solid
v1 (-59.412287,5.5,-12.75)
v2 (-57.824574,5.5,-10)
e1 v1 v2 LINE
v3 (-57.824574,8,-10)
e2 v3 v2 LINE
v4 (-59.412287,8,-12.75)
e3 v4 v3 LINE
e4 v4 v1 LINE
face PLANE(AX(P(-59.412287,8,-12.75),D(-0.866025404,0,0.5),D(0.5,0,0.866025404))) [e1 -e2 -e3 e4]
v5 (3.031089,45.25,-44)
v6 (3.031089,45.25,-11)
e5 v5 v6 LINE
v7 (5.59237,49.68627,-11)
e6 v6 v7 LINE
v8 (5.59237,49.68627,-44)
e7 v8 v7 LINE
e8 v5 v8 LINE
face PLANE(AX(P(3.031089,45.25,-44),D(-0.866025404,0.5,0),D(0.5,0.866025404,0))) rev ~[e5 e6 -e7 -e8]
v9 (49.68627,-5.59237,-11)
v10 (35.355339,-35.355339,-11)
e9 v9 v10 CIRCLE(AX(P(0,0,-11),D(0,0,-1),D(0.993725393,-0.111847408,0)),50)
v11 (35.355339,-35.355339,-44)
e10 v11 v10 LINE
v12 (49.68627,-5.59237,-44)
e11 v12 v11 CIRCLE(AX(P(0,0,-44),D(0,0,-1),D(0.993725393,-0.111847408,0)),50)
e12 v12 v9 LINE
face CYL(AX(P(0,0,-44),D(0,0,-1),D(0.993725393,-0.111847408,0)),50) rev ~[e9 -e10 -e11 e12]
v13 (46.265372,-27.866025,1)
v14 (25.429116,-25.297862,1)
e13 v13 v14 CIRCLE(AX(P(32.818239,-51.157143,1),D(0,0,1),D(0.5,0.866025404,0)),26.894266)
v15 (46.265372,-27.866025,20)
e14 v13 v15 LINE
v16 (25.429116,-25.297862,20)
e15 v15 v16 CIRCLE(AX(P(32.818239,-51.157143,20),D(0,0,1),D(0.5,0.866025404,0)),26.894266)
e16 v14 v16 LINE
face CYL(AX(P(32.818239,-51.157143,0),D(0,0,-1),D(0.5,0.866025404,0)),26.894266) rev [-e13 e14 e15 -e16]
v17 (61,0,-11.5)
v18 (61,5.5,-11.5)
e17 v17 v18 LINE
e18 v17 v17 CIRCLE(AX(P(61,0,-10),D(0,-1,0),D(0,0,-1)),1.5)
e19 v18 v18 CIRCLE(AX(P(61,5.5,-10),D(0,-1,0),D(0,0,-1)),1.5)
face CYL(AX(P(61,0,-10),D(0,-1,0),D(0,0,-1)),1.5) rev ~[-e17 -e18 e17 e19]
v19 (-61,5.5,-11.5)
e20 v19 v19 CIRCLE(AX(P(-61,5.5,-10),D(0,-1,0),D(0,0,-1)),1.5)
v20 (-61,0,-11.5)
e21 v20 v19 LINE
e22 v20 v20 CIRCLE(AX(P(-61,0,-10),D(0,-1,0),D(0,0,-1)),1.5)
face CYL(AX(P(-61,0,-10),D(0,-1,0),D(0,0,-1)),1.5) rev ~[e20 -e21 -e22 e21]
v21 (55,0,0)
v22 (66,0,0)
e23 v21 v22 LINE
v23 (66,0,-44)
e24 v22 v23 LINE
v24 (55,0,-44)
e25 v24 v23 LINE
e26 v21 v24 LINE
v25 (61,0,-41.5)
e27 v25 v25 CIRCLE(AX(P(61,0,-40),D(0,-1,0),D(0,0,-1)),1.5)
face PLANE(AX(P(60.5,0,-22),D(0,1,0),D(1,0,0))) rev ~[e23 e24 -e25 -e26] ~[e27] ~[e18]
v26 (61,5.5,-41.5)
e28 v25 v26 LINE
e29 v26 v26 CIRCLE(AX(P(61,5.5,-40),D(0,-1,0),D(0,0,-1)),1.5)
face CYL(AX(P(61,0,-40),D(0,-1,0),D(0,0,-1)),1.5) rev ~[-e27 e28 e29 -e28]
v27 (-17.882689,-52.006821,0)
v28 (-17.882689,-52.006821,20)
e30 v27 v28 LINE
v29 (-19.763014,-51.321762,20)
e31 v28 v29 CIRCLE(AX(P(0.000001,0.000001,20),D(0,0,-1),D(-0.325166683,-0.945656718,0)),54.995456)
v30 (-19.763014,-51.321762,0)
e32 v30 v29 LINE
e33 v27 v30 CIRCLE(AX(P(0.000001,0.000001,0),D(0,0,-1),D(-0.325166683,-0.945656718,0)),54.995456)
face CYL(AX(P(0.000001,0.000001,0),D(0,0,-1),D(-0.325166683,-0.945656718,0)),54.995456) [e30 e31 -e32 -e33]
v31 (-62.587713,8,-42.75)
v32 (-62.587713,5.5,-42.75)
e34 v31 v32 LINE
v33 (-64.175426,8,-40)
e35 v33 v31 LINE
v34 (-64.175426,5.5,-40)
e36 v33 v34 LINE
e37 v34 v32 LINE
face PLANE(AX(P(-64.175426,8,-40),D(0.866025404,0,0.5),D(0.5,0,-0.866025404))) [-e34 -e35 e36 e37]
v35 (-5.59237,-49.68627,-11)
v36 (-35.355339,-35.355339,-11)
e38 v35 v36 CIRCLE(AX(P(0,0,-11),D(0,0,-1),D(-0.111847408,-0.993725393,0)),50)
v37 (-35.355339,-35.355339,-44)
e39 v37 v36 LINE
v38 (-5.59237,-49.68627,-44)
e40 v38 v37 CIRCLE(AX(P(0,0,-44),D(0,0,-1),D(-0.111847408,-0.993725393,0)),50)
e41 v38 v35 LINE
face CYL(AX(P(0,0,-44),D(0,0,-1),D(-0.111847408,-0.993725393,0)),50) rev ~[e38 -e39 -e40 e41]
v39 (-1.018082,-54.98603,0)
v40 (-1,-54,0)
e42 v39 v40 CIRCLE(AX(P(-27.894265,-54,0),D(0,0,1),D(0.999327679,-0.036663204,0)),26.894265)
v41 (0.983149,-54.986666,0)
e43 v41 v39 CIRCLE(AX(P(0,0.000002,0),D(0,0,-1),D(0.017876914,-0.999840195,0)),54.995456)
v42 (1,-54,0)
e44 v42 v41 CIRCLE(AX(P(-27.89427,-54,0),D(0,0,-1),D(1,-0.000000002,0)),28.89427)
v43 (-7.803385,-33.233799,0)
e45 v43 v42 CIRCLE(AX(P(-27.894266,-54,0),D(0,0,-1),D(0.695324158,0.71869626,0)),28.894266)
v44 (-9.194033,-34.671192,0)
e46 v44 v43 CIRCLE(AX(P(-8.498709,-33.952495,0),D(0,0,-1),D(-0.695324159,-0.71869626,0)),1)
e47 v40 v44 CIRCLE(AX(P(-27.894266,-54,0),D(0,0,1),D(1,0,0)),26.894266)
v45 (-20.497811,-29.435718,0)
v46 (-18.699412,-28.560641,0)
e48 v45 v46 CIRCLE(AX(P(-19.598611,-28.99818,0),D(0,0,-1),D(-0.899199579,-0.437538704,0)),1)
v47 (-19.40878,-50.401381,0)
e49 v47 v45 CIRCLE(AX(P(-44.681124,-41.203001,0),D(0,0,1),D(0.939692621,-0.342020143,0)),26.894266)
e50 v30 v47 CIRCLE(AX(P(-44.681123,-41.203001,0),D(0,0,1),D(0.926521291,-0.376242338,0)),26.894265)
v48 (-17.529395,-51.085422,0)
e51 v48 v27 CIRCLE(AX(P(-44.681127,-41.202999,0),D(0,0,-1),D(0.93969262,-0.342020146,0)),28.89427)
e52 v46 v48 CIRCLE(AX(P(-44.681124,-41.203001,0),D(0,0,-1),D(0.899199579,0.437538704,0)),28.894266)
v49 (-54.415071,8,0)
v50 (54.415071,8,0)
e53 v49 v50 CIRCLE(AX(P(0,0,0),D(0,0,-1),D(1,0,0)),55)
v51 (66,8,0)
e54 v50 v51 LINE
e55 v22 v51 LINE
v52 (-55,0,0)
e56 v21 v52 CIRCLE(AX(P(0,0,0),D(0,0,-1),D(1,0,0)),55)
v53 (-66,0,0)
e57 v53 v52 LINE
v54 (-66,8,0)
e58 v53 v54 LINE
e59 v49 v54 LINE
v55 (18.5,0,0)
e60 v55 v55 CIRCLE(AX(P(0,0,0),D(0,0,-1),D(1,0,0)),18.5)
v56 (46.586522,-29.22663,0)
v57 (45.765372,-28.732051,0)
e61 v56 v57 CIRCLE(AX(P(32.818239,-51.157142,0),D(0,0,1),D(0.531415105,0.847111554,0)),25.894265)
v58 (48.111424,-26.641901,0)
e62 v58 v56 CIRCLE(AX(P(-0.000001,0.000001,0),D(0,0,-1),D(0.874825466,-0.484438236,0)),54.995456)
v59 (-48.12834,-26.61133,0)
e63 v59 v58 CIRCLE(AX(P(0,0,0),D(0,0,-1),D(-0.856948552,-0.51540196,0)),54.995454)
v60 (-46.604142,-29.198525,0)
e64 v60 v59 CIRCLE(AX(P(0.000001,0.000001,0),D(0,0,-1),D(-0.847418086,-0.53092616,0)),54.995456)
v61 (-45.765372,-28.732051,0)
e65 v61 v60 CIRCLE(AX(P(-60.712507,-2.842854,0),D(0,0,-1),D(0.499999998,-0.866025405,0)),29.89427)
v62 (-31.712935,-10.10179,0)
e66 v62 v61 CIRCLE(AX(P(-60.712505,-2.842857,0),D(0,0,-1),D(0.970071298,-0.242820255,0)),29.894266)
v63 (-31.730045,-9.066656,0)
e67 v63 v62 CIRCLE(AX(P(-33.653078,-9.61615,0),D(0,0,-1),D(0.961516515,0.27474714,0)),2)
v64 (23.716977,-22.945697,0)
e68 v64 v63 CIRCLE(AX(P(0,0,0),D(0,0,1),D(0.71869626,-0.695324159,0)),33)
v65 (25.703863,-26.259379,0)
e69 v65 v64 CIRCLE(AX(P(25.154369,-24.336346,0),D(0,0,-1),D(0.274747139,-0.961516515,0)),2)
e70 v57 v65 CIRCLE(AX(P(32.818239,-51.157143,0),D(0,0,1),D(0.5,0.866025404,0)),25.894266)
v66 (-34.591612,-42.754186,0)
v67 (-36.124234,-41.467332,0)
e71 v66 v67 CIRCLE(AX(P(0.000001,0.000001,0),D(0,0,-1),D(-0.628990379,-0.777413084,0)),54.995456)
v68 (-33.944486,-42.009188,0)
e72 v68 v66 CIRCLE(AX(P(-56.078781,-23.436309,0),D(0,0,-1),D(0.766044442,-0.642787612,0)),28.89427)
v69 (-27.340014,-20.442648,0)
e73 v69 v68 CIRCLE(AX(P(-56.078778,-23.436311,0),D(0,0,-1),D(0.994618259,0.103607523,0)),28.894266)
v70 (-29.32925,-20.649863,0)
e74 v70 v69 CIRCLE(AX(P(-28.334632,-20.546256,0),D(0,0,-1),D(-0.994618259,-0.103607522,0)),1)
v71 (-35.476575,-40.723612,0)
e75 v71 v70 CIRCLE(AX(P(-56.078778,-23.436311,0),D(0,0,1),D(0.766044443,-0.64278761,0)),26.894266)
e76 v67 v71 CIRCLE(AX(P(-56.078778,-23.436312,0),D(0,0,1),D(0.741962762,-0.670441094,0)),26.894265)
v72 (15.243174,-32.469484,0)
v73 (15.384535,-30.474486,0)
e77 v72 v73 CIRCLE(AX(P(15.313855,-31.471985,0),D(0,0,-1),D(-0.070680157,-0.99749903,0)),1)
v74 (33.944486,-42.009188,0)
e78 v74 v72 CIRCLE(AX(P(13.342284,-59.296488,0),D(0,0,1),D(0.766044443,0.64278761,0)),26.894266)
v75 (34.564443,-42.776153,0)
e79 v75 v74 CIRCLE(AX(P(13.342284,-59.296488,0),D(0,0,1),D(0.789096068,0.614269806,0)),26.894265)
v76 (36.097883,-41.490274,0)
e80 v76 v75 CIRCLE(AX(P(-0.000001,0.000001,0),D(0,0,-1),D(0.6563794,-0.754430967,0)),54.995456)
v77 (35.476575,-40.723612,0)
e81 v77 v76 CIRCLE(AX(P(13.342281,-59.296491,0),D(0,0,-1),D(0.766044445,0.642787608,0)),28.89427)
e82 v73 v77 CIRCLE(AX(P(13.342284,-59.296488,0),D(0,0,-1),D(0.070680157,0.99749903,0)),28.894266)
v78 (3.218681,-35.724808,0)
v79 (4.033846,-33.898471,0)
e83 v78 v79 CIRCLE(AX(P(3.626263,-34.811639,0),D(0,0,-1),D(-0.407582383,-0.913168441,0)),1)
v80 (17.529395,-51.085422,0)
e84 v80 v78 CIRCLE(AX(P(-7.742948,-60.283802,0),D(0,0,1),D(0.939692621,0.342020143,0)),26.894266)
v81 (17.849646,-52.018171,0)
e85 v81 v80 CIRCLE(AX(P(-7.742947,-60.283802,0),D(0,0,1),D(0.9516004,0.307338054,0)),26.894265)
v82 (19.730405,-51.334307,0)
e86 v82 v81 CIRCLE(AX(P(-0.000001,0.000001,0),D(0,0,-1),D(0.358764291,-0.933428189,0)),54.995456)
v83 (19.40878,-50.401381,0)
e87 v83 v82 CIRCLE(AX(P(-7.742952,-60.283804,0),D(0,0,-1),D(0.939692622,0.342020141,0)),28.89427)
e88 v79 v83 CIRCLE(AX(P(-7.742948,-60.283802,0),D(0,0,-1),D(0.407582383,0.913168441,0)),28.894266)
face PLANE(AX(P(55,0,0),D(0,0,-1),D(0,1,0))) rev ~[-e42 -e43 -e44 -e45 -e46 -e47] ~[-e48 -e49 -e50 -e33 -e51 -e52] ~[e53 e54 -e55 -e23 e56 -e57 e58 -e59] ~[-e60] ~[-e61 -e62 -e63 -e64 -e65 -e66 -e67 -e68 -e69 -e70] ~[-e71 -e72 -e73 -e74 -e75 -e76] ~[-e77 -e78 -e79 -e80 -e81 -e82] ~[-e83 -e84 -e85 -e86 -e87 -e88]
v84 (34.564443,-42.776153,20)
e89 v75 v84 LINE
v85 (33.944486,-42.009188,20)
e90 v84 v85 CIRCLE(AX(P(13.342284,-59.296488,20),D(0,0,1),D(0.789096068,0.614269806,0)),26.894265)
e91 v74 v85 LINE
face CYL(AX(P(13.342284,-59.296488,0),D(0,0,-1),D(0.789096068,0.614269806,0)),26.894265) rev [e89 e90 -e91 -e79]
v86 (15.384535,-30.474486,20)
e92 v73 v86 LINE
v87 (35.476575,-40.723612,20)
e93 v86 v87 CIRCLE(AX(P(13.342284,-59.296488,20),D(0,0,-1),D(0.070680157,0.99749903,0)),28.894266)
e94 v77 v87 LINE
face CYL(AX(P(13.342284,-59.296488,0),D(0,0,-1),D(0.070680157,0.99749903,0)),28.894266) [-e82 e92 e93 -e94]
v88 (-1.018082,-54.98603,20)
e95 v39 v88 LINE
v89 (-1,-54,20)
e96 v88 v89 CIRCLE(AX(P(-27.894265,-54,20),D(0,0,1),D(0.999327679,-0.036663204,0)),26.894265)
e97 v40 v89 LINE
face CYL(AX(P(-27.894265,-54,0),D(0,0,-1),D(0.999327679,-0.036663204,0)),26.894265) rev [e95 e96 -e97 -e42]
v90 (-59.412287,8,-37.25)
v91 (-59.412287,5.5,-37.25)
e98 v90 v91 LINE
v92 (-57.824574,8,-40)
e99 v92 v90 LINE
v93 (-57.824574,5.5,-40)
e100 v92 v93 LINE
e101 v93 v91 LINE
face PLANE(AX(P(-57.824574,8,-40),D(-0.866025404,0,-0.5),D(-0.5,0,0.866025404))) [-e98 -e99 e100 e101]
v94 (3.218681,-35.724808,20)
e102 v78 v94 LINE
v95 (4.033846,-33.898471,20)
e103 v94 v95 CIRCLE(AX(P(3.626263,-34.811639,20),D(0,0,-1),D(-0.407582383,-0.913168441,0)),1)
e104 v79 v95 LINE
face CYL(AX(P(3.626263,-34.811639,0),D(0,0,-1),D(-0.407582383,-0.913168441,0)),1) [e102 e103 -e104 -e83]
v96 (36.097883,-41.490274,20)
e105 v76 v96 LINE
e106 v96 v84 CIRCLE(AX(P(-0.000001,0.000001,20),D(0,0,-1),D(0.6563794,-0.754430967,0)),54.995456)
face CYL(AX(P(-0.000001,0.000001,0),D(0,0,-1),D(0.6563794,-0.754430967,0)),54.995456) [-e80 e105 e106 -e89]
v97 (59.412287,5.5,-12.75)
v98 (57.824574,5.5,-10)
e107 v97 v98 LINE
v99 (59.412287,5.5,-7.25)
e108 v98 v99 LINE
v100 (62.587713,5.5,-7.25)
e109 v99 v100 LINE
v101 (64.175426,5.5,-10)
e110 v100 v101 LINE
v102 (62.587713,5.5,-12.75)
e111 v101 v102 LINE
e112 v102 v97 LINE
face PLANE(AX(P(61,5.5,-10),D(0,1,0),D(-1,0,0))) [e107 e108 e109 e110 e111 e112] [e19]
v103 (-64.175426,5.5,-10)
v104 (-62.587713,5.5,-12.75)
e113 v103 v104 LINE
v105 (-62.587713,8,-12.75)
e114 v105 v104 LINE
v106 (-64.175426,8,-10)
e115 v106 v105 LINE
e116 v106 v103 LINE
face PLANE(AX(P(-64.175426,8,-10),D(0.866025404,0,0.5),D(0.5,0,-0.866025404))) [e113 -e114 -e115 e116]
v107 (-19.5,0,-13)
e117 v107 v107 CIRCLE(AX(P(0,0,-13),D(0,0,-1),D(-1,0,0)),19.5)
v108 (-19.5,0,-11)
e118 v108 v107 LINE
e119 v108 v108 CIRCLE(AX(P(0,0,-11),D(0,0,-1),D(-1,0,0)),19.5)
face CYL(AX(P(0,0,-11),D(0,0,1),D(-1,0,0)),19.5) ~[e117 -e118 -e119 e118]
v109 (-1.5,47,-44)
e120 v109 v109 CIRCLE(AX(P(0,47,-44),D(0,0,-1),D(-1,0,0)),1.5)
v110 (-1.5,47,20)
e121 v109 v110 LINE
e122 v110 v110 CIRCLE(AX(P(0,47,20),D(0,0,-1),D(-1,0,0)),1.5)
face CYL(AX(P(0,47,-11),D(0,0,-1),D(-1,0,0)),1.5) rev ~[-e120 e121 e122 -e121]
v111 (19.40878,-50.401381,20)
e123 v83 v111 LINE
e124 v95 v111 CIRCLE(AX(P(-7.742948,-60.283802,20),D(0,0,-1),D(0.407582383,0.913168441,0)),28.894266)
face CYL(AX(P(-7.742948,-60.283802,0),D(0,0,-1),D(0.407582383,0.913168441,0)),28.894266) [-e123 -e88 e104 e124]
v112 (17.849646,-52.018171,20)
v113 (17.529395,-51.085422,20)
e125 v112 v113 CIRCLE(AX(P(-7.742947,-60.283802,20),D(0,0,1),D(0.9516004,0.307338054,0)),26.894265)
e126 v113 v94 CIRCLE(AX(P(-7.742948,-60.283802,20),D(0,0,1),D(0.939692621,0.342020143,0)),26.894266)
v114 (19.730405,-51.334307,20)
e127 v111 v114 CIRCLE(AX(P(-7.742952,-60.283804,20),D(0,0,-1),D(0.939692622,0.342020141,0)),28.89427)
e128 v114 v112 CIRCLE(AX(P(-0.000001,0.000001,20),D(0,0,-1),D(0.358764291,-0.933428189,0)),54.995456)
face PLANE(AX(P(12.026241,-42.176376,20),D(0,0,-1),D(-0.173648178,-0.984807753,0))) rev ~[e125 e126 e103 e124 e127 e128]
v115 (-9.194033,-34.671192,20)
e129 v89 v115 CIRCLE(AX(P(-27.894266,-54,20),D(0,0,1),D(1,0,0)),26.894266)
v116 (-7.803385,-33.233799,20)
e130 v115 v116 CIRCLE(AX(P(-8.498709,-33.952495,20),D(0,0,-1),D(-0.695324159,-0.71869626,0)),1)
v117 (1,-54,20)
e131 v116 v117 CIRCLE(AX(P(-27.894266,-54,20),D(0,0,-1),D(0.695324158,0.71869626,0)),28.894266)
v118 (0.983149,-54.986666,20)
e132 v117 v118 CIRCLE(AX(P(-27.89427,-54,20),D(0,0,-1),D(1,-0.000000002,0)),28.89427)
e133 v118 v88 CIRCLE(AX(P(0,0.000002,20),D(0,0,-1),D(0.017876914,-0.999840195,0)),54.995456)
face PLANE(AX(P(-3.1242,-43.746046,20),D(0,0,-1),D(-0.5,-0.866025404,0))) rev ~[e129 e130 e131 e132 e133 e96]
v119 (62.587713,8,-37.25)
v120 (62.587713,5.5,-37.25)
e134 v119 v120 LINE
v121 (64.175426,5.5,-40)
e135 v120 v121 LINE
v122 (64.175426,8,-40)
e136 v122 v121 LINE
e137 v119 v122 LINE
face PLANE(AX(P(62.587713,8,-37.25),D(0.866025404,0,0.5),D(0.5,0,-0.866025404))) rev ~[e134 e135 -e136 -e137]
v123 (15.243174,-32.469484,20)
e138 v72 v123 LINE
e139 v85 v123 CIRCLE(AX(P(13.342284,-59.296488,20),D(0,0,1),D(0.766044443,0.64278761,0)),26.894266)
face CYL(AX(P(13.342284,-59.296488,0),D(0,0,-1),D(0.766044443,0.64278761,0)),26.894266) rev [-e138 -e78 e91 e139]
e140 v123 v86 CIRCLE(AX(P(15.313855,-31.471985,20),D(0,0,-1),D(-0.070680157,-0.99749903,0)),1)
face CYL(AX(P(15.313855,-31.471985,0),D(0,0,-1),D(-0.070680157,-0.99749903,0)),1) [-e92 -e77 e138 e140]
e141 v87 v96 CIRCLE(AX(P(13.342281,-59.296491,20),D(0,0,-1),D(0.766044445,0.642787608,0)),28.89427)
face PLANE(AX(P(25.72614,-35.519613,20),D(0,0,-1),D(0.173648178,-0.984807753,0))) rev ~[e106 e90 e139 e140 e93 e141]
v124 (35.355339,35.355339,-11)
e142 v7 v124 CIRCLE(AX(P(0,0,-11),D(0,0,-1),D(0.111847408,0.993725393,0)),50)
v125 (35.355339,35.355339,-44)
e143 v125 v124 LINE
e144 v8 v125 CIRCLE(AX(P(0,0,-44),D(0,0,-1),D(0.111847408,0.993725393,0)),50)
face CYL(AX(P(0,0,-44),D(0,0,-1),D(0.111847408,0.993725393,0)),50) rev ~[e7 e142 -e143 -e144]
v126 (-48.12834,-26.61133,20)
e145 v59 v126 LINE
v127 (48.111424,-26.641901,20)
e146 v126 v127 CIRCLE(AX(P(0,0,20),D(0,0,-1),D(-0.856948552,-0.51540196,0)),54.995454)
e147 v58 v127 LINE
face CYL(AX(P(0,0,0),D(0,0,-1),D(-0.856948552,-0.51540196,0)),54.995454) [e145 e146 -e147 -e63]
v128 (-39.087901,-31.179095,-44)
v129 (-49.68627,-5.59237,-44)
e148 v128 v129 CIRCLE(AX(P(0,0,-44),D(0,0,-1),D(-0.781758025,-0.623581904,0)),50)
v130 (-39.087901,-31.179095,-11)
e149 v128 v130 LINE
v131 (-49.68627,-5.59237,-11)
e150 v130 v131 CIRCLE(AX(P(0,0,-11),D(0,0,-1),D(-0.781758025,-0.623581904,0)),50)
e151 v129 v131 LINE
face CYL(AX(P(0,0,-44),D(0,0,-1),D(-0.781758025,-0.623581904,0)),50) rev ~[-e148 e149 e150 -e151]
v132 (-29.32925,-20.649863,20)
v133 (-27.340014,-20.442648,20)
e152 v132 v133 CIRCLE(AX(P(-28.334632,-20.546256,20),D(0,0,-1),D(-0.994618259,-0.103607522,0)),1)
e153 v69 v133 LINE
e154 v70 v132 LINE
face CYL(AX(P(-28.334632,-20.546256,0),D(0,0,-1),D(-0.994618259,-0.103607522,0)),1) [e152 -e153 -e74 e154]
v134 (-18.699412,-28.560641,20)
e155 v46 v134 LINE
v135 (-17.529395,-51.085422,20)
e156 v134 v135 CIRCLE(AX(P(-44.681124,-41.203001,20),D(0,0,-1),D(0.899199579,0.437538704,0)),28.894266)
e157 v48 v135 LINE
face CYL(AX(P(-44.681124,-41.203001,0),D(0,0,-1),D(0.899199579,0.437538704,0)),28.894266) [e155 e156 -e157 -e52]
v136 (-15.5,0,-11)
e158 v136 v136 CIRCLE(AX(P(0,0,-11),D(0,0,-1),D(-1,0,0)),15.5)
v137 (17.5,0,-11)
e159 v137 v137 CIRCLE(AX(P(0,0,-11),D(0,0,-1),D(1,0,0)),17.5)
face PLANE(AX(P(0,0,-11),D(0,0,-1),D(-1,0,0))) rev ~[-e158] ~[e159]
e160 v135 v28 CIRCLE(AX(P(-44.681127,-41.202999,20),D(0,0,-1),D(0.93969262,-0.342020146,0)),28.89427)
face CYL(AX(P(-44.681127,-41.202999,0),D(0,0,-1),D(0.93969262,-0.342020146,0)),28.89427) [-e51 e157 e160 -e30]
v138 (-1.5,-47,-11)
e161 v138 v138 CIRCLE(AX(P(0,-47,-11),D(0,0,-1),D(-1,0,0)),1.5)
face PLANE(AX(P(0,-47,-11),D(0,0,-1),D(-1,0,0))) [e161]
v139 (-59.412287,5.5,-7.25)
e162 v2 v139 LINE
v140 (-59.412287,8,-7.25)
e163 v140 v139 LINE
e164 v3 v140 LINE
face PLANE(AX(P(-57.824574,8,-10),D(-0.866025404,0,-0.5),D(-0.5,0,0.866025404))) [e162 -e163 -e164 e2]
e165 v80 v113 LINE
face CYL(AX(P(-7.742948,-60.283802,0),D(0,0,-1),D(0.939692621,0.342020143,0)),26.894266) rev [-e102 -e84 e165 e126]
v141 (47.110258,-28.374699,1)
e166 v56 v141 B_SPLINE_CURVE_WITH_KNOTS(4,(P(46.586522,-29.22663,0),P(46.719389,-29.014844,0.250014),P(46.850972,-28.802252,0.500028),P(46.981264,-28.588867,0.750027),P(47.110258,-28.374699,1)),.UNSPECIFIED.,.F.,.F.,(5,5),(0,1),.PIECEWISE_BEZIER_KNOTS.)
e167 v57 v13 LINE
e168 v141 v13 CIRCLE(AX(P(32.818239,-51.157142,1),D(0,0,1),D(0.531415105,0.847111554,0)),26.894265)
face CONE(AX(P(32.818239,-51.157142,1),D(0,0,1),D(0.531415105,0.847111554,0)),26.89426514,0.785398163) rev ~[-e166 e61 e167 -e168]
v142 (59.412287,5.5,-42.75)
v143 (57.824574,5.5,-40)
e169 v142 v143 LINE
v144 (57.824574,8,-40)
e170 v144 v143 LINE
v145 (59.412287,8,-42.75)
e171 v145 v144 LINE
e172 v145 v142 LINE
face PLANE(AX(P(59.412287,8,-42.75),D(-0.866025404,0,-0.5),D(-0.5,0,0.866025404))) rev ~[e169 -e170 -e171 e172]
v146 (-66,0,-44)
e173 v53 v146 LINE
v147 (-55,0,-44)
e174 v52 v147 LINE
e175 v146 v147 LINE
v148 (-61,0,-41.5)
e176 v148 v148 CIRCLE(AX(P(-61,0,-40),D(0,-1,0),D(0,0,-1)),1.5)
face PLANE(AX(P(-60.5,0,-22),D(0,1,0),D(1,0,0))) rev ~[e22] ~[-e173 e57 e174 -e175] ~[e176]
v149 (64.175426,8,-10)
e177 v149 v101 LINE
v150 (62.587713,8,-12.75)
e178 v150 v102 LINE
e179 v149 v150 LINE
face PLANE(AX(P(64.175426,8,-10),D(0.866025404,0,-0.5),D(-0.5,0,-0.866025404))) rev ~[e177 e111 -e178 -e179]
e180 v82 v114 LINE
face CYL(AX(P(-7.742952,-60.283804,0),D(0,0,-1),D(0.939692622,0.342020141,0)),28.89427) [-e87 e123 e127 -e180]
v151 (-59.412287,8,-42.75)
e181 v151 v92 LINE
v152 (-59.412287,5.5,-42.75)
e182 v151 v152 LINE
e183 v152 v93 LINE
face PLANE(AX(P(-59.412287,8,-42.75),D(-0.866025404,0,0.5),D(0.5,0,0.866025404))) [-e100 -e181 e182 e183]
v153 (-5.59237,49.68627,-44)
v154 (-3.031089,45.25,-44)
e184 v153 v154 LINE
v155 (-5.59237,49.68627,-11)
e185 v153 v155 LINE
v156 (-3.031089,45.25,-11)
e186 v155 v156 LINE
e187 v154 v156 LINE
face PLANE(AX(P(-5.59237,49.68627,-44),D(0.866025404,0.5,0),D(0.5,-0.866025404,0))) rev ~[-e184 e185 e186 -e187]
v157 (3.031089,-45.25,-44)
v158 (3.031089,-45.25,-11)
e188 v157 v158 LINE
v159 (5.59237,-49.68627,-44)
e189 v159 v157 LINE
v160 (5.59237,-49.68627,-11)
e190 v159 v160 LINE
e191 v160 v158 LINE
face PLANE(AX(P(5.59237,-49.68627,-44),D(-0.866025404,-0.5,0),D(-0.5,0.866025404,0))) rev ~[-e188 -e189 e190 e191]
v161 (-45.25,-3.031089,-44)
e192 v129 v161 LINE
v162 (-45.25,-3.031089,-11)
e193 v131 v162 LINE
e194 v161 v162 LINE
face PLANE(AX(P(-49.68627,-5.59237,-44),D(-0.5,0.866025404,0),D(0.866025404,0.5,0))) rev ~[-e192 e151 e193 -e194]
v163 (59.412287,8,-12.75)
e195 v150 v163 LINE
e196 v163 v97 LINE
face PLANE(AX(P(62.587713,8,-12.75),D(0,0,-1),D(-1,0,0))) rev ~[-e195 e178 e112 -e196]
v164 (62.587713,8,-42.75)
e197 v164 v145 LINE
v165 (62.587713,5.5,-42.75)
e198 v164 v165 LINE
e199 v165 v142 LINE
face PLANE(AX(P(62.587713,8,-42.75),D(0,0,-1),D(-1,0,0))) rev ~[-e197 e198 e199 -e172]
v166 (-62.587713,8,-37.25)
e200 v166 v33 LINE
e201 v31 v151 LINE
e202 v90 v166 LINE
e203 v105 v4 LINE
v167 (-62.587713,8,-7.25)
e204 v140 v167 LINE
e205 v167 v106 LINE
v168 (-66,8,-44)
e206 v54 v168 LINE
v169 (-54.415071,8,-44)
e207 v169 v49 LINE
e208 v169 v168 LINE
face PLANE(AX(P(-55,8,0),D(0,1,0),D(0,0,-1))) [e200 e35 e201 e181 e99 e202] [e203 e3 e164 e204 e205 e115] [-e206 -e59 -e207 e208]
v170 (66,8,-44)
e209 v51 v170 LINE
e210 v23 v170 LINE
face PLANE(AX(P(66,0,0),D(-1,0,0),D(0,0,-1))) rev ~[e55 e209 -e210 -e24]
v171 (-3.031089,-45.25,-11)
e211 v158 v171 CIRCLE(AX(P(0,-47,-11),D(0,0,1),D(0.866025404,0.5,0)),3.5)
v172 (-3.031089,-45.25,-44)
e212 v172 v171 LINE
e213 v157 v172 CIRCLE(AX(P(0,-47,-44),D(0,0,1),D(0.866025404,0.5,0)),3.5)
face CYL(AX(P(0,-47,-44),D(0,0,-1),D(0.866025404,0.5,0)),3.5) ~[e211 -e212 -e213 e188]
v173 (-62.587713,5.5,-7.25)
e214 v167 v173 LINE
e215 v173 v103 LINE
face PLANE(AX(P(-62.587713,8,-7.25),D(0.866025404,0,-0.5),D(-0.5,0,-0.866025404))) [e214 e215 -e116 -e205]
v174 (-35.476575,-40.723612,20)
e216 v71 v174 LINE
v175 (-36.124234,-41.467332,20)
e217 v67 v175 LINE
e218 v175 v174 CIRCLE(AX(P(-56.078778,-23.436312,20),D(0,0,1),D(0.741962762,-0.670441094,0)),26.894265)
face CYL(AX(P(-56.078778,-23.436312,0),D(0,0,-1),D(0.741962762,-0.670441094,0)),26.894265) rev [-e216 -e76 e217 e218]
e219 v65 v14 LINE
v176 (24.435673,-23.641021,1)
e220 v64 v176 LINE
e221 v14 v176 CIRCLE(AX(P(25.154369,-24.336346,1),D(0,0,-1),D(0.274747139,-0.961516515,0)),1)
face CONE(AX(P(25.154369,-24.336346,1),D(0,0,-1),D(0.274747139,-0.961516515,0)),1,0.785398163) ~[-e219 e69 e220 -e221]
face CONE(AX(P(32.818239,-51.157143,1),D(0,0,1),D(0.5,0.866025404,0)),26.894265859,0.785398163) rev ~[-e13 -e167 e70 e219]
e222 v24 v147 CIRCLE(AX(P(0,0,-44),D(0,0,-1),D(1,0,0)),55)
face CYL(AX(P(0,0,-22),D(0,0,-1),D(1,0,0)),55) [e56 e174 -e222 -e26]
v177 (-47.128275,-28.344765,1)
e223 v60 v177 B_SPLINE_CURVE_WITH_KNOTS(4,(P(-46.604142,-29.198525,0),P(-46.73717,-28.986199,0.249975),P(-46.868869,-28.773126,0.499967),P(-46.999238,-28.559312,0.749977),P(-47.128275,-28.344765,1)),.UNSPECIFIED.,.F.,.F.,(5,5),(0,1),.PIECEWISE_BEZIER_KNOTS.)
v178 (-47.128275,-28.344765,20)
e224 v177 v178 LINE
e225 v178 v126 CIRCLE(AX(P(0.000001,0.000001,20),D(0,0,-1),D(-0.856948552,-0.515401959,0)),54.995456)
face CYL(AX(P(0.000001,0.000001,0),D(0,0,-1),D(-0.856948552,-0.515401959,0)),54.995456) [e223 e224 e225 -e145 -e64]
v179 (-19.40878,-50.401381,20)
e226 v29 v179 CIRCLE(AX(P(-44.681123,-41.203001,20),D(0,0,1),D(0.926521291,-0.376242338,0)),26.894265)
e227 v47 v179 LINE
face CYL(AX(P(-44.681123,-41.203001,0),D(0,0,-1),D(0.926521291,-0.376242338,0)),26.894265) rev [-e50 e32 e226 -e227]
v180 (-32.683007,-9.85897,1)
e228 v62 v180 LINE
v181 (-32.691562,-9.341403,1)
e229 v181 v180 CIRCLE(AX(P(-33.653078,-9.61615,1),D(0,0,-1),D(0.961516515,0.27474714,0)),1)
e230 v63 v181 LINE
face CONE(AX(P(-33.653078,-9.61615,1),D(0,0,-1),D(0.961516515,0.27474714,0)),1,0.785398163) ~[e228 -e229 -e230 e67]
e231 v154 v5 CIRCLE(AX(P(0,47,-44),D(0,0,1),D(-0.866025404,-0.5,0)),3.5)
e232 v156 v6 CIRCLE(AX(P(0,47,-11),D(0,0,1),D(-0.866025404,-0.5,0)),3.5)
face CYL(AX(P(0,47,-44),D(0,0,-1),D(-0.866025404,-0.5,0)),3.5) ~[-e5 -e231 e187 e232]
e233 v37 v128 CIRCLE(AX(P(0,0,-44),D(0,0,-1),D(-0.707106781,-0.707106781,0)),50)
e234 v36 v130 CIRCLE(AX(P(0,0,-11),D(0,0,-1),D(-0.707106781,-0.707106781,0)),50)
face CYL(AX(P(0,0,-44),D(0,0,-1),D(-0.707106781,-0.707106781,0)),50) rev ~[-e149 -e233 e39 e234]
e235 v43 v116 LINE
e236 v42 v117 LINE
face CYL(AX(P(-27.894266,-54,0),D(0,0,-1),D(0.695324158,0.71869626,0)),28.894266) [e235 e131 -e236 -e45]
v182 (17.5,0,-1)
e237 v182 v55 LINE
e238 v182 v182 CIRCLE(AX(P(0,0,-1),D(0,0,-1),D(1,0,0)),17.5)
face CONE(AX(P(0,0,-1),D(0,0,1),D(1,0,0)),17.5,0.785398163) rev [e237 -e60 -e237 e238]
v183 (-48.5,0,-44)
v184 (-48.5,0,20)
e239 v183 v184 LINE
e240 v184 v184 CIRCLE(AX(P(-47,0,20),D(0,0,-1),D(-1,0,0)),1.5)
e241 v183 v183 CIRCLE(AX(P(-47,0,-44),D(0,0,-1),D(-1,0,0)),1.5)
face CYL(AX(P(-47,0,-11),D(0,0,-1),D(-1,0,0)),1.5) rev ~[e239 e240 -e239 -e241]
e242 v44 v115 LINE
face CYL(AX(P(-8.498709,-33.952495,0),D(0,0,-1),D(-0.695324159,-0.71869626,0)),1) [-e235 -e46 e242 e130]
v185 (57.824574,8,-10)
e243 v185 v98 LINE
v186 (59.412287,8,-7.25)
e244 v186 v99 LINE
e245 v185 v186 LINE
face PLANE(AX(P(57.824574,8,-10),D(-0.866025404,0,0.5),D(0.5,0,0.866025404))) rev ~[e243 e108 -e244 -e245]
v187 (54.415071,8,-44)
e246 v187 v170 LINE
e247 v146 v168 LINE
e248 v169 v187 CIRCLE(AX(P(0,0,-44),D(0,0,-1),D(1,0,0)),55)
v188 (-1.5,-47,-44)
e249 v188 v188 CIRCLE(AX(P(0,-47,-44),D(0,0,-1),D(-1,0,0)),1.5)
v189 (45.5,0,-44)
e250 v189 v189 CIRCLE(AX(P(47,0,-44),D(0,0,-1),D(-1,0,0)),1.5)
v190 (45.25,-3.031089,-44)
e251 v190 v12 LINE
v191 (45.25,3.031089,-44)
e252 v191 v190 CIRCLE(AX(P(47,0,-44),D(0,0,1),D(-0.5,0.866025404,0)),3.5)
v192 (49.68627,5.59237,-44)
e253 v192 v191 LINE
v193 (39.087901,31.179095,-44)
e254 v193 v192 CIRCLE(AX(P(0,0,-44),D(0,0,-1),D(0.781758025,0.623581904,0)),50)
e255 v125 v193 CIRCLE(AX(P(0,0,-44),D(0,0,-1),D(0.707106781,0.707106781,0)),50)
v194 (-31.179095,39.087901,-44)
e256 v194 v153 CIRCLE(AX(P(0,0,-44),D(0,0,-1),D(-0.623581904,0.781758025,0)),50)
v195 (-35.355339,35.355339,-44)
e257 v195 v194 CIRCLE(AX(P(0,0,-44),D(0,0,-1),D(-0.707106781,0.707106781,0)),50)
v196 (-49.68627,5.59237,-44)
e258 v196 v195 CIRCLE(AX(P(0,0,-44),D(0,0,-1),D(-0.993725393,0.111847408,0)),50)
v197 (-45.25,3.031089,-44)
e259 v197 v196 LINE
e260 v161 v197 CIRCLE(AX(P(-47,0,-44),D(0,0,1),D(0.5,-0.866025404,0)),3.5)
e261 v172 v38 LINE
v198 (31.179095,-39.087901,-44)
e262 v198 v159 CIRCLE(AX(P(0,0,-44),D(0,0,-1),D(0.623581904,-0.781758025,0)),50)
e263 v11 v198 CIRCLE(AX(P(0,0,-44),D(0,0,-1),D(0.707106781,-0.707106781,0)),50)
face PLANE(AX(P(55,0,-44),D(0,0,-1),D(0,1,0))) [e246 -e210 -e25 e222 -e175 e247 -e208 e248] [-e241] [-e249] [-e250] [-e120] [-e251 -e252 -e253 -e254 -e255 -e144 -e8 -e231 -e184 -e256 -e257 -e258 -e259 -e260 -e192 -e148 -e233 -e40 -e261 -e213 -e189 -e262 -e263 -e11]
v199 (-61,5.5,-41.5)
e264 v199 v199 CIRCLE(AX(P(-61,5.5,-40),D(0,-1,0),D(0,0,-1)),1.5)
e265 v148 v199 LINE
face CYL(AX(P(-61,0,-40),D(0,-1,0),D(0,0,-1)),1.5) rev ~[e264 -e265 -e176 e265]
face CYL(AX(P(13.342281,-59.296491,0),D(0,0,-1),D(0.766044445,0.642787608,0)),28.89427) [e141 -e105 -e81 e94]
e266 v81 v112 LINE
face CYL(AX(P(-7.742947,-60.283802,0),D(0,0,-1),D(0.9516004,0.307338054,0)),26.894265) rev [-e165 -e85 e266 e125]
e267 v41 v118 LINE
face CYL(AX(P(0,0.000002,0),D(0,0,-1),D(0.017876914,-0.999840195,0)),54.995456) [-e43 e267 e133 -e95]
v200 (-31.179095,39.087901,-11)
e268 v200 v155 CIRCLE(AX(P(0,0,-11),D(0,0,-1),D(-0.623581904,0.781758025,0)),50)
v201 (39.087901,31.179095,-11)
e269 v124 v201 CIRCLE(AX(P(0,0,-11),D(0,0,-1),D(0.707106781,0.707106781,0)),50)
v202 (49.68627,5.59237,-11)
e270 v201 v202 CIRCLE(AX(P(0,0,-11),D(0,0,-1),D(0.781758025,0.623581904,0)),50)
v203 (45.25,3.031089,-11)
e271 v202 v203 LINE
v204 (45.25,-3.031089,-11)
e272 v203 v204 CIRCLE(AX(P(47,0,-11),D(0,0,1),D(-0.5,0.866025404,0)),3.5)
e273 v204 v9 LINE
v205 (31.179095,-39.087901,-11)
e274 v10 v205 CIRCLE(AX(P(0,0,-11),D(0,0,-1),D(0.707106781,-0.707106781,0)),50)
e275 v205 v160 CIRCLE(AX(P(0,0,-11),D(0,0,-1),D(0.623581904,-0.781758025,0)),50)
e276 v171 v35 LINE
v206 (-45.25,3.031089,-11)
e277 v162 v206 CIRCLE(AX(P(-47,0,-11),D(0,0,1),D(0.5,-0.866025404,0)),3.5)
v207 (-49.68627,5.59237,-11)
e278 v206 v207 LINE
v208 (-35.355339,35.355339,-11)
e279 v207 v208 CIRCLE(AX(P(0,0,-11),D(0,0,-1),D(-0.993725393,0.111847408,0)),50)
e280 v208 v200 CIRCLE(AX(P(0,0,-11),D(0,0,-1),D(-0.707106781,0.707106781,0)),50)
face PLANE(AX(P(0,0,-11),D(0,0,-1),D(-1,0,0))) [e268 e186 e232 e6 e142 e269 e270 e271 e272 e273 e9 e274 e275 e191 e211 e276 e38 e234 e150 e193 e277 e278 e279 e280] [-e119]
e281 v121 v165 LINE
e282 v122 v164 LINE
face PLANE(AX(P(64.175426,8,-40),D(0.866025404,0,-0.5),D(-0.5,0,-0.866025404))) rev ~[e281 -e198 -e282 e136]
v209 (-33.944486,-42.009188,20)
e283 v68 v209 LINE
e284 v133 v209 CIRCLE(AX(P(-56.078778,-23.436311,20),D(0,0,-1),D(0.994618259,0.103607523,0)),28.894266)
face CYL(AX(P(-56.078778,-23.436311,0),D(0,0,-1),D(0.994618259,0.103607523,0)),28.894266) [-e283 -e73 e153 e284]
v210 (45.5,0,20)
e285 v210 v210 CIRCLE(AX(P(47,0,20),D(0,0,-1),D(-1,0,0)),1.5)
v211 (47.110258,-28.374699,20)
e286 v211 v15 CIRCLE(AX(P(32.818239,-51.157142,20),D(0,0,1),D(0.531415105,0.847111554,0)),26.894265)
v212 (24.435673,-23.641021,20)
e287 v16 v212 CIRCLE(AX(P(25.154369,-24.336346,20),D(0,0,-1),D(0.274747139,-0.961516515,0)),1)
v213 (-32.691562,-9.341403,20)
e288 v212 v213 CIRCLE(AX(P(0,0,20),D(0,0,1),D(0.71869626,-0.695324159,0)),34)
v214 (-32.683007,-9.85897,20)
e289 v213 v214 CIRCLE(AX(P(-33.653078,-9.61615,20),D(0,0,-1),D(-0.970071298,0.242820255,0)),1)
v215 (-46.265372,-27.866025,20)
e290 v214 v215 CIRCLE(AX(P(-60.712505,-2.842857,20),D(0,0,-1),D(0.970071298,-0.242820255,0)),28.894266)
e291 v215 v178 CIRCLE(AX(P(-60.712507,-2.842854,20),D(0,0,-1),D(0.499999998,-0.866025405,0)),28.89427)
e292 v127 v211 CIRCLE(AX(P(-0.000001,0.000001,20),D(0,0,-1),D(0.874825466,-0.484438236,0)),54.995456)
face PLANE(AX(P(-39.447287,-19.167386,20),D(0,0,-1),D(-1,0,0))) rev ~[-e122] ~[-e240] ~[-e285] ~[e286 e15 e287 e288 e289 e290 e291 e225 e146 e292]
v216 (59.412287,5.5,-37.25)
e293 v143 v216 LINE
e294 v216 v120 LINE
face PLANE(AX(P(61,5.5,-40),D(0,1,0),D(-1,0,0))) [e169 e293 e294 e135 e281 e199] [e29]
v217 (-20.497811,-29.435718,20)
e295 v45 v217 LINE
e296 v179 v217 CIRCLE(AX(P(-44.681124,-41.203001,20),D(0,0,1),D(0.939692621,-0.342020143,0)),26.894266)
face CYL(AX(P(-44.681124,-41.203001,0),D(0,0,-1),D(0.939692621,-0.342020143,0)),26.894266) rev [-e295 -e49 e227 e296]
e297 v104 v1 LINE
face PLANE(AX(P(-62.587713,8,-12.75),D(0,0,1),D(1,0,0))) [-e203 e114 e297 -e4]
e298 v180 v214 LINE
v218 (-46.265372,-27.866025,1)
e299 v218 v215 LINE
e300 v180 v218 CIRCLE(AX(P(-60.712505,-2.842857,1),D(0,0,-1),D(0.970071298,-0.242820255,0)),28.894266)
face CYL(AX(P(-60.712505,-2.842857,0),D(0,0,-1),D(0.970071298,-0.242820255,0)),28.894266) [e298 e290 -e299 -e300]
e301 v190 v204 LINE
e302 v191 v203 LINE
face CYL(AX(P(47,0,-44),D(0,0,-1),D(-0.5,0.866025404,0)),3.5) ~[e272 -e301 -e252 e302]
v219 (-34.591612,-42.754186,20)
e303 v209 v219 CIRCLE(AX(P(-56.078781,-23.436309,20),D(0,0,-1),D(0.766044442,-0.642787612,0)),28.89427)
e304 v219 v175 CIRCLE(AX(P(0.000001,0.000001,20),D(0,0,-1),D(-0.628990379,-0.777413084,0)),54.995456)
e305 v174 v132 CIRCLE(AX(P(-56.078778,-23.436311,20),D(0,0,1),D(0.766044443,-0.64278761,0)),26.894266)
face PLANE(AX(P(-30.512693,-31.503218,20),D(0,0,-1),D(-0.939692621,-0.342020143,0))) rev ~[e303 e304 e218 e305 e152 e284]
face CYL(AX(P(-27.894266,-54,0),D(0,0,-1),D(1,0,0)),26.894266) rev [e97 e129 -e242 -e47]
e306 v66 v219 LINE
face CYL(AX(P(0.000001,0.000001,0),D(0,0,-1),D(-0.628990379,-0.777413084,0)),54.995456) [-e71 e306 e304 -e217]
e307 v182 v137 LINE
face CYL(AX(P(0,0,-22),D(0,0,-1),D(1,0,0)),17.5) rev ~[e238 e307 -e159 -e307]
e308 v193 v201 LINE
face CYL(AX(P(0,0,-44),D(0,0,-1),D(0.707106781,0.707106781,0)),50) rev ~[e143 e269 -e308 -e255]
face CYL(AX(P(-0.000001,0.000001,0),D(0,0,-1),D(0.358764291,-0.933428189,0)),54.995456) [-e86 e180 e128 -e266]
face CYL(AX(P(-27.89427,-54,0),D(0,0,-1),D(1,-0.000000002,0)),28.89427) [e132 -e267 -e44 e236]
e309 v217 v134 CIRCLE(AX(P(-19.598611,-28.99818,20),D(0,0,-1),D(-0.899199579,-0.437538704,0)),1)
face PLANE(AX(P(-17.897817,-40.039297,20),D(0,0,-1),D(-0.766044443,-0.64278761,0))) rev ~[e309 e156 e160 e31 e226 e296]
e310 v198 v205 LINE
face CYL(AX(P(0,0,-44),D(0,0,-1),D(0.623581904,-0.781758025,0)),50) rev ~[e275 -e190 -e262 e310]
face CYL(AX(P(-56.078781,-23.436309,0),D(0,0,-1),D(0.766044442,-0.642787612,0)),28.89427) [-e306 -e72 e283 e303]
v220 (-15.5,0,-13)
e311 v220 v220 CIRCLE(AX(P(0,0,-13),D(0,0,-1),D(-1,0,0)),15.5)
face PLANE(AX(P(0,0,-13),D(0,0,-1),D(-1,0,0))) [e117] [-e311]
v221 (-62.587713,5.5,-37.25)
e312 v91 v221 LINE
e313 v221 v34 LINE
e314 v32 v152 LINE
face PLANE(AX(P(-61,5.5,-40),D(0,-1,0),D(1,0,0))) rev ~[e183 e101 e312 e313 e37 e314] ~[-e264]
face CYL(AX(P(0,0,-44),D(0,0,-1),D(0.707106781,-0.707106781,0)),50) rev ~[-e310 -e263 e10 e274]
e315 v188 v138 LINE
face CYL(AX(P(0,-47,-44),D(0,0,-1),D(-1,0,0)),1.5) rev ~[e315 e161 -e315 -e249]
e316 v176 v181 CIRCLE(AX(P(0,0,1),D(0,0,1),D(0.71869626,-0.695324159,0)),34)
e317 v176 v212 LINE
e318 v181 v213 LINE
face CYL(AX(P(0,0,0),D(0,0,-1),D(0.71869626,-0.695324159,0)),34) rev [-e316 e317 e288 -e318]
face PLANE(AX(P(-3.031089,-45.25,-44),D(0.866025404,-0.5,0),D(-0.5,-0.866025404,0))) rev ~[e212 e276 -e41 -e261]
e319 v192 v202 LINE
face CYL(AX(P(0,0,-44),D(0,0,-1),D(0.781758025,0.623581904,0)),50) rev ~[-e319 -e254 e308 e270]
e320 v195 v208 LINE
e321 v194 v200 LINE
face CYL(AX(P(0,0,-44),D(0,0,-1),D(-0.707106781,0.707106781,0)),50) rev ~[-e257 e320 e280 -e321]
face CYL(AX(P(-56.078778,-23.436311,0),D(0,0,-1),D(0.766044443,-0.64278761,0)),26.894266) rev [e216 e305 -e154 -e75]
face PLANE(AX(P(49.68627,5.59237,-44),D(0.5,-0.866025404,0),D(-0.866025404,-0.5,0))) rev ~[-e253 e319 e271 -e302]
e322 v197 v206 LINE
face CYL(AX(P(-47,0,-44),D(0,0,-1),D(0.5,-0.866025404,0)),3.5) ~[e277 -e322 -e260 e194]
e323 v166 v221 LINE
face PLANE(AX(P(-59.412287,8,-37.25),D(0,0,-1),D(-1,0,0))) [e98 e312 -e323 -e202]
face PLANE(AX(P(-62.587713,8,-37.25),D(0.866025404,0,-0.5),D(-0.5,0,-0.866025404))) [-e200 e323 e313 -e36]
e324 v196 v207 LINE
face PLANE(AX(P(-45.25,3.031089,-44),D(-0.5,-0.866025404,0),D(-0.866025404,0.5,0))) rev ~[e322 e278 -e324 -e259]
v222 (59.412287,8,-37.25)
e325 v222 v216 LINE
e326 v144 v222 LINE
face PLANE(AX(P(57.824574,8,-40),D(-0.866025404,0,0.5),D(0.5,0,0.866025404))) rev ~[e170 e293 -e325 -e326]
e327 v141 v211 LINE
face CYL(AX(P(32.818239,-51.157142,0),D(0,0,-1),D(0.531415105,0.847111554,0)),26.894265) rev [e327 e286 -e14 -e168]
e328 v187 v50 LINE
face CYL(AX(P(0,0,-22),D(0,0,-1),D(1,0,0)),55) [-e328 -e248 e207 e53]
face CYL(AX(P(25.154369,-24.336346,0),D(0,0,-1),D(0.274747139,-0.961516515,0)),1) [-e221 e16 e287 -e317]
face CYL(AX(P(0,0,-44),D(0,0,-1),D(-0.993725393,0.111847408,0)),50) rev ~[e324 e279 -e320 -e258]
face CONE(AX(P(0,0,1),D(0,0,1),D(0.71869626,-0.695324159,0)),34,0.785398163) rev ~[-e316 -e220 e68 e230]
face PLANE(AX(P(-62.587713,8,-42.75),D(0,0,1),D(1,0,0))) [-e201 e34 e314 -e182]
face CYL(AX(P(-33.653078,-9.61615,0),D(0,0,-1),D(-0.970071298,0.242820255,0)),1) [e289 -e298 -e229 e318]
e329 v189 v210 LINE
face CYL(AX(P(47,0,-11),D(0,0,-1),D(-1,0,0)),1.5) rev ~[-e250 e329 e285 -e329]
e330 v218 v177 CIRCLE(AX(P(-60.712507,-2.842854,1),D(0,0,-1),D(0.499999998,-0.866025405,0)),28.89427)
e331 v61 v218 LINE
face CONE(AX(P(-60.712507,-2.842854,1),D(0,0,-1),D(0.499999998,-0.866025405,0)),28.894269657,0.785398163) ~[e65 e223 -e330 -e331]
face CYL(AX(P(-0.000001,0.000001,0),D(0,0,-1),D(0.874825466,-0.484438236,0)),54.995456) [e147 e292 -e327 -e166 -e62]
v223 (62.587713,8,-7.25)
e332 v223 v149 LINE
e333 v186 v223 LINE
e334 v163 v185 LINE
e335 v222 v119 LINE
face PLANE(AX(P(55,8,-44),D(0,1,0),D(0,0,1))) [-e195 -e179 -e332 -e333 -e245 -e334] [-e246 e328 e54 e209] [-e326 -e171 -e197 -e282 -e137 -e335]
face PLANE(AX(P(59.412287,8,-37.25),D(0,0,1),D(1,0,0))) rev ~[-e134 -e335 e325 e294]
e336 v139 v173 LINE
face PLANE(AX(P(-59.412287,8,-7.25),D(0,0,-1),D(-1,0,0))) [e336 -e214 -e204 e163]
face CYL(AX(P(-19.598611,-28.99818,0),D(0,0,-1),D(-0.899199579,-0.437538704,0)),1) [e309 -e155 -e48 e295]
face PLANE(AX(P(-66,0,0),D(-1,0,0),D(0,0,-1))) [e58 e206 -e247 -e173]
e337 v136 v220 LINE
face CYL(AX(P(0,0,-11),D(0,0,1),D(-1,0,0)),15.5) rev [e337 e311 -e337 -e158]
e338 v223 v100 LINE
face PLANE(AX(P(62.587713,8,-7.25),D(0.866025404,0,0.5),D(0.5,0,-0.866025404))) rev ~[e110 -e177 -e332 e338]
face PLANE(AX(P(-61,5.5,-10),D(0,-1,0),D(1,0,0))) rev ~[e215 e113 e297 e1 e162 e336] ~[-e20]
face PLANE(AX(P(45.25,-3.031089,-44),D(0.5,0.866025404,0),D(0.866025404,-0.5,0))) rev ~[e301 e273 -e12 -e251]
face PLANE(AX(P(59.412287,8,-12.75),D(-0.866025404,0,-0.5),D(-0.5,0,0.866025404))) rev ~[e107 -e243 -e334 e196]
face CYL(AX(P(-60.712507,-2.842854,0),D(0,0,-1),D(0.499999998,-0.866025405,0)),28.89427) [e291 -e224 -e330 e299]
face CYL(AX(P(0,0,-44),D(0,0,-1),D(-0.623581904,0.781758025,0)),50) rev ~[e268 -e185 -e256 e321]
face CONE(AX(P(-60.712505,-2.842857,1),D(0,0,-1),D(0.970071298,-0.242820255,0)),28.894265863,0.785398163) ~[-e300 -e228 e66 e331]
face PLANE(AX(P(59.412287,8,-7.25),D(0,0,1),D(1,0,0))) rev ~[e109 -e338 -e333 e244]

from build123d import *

# Parameters (mm, degrees)
EXTRUDE_1_DEPTH          = 20
SKETCH_1_W               = 44
SKETCH_1_H               = 37.5
PATTERN_CIRCULAR_1_COUNT = 7
PATTERN_CIRCULAR_1_ANGLE = 120
EXTRUDE_2_DEPTH          = 20
SKETCH_4_R               = 17.5
SKETCH_4_R_2             = 1.5
CUT_EXTRUDE_1_DEPTH      = 33
SKETCH_5_R               = 1.5
CUT_EXTRUDE_2_DEPTH      = 31
SKETCH_7_R               = 19.5
SKETCH_7_R_2             = 15.5
EXTRUDE_3_DEPTH          = 2
CHAMFER_2_SIZE           = 1
CHAMFER_3_SIZE           = 1
SKETCH_9_W               = 11
SKETCH_9_H               = 44
EXTRUDE_4_DEPTH          = 8
EXTRUDE_4_2_DEPTH        = 8
EXTRUDE_6_REACH          = 142.007
EXTRUDE_6_END_RADIUS     = 55
SKETCH_12_W              = 44
SKETCH_12_H              = 8
SKETCH_14_R              = 1.5
CUT_EXTRUDE_3_DEPTH      = 8
EXTRUDE_7_REACH          = 142.007
EXTRUDE_7_END_RADIUS     = 55
SKETCH_15_W              = 44
SKETCH_15_H              = 8
CUT_EXTRUDE_START        = -8
CUT_EXTRUDE_4_DEPTH      = 2.5


with BuildPart() as part:
    # 草图2 → 凸台-拉伸1 (new body)
    with BuildSketch(Plane.XY):
        with BuildLine():
            ThreePointArc((-47.128274794, -28.344764849), (-47.636192587, -27.482596951), (-48.12833958, -26.611330456))
            ThreePointArc((-48.12833958, -26.611330456), (-47.694667466, -26.376608419), (-47.265371804, -26.133974596))
            ThreePointArc((-47.265371804, -26.133974596), (-39.241284875, -19.038172947), (-34.623149334, -9.373329637))
            ThreePointArc((-34.623149334, -9.373329637), (-33.41025778, -8.646078594), (-32.683006737, -9.858970147))
            ThreePointArc((-32.683006737, -9.858970147), (-37.644571288, -20.242542376), (-46.265371804, -27.866025404))
            ThreePointArc((-46.265371804, -27.866025404), (-46.694779385, -28.109079174), (-47.128274794, -28.344764849))
        make_face()
    extrude_1 = extrude(amount=EXTRUDE_1_DEPTH)

    # 草图1 → 旋转1 (revolve)
    with BuildSketch(Plane(origin=(0, 0, 0), x_dir=(0, 0, -1), z_dir=(1, 0, 0)), mode=Mode.PRIVATE) as revolve_1_sk:
        with Locations((22, 36.25)):
            Rectangle(SKETCH_1_W, SKETCH_1_H)
    revolve(revolve_1_sk.sketch.rotate(Axis((0, 0, 0), (0, 0, -1)), 90), axis=Axis((0, 0, 0), (0, 0, -1)))

    # 阵列(圆周)1: 凸台-拉伸1 ×7 about axis
    pattern_circular_1_axis = Axis((0, 0, 0), (0, 0, 1))
    for i in range(1, PATTERN_CIRCULAR_1_COUNT):
        add(extrude_1.rotate(pattern_circular_1_axis, i * PATTERN_CIRCULAR_1_ANGLE / (PATTERN_CIRCULAR_1_COUNT - 1)))

    # 草图3 → 凸台-拉伸2 (add)
    with BuildSketch(Plane.XY):
        with BuildLine():
            ThreePointArc((-47.128274794, -28.344764849), (0.017469172, 54.995451395), (47.110257993, -28.37469949))
            ThreePointArc((47.110257993, -28.37469949), (36.597025339, -24.52967003), (25.429116251, -25.297862063))
            ThreePointArc((25.429116251, -25.297862063), (24.296725269, -24.850589692), (24.435672851, -23.641021389))
            ThreePointArc((24.435672851, -23.641021389), (8.255888669, 32.982424142), (-32.69156152, -9.341402752))
            ThreePointArc((-32.69156152, -9.341402752), (-32.653214608, -9.599623321), (-32.683006737, -9.858970147))
            ThreePointArc((-32.683006737, -9.858970147), (-37.945055609, -20.633918382), (-47.128274794, -28.344764849))
        make_face()
    extrude(amount=EXTRUDE_2_DEPTH)

    # 草图4 → 切除-拉伸1 (cut)
    # profile 1 of 5: a face of its own
    with BuildSketch(Plane(origin=(0, 0, -44), x_dir=(-1, 0, 0), z_dir=(0, 0, -1))):
        with BuildLine():
            Line((-49.686269666, 5.592370399), (-45.25, 3.031088913))
            ThreePointArc((-45.25, 3.031088913), (-43.5, 0), (-45.25, -3.031088913))
            Line((-45.25, -3.031088913), (-49.686269666, -5.592370399))
            ThreePointArc((-49.686269666, -5.592370399), (-45.049721192, -21.691533383), (-35.355339059, -35.355339059))
            ThreePointArc((-35.355339059, -35.355339059), (-33.319524907, -37.280145654), (-31.179095181, -39.087901245))
            ThreePointArc((-31.179095181, -39.087901245), (-19.134171618, -46.193976626), (-5.592370399, -49.686269666))
            Line((-5.592370399, -49.686269666), (-3.031088913, -45.25))
            ThreePointArc((-3.031088913, -45.25), (0, -43.5), (3.031088913, -45.25))
            Line((3.031088913, -45.25), (5.592370399, -49.686269666))
            ThreePointArc((5.592370399, -49.686269666), (21.691533383, -45.049721192), (35.355339059, -35.355339059))
            ThreePointArc((35.355339059, -35.355339059), (37.280145654, -33.319524907), (39.087901245, -31.179095181))
            ThreePointArc((39.087901245, -31.179095181), (46.193976626, -19.134171618), (49.686269666, -5.592370399))
            Line((49.686269666, -5.592370399), (45.25, -3.031088913))
            ThreePointArc((45.25, -3.031088913), (43.5, 0), (45.25, 3.031088913))
            Line((45.25, 3.031088913), (49.686269666, 5.592370399))
            ThreePointArc((49.686269666, 5.592370399), (45.049721192, 21.691533383), (35.355339059, 35.355339059))
            ThreePointArc((35.355339059, 35.355339059), (33.319524907, 37.280145654), (31.179095181, 39.087901245))
            ThreePointArc((31.179095181, 39.087901245), (19.134171618, 46.193976626), (5.592370399, 49.686269666))
            Line((5.592370399, 49.686269666), (3.031088913, 45.25))
            ThreePointArc((3.031088913, 45.25), (0, 43.5), (-3.031088913, 45.25))
            Line((-3.031088913, 45.25), (-5.592370399, 49.686269666))
            ThreePointArc((-5.592370399, 49.686269666), (-21.691533383, 45.049721192), (-35.355339059, 35.355339059))
            ThreePointArc((-35.355339059, 35.355339059), (-37.280145654, 33.319524907), (-39.087901245, 31.179095181))
            ThreePointArc((-39.087901245, 31.179095181), (-46.193976626, 19.134171618), (-49.686269666, 5.592370399))
        make_face()
        with Locations(Location((0, 0, 0), (0, 0, 180))):
            Circle(SKETCH_4_R, mode=Mode.SUBTRACT)
    # profile 2 of 5: a face of its own
    with BuildSketch(Plane(origin=(0, 0, -44), x_dir=(-1, 0, 0), z_dir=(0, 0, -1))):
        with Locations((0, 47)):
            Circle(SKETCH_4_R_2)
    # profile 3 of 5: a face of its own
    with BuildSketch(Plane(origin=(0, 0, -44), x_dir=(-1, 0, 0), z_dir=(0, 0, -1))):
        with Locations((47, 0)):
            Circle(SKETCH_4_R_2)
    # profile 4 of 5: a face of its own
    with BuildSketch(Plane(origin=(0, 0, -44), x_dir=(-1, 0, 0), z_dir=(0, 0, -1))):
        with Locations((0, -47)):
            Circle(SKETCH_4_R_2)
    # profile 5 of 5: a face of its own
    with BuildSketch(Plane(origin=(0, 0, -44), x_dir=(-1, 0, 0), z_dir=(0, 0, -1))):
        with Locations((-47, 0)):
            Circle(SKETCH_4_R_2)
    extrude(amount=-CUT_EXTRUDE_1_DEPTH, mode=Mode.SUBTRACT)

    # 草图5 → 切除-拉伸2 (cut)
    with BuildSketch(Plane(origin=(0, 0, -11), x_dir=(-1, 0, 0), z_dir=(0, 0, -1))):
        with Locations((0, 47)):
            Circle(SKETCH_5_R)
        with Locations((-47, 0)):
            Circle(SKETCH_5_R)
        with Locations((47, 0)):
            Circle(SKETCH_5_R)
    extrude(amount=-CUT_EXTRUDE_2_DEPTH, mode=Mode.SUBTRACT)

    # 草图7 → 凸台-拉伸3 (add)
    with BuildSketch(Plane(origin=(0, 0, -11), x_dir=(-1, 0, 0), z_dir=(0, 0, -1))):
        Circle(SKETCH_7_R)
        Circle(SKETCH_7_R_2, mode=Mode.SUBTRACT)
    extrude(amount=EXTRUDE_3_DEPTH)

    # 倒角2
    chamfer_2_edges = [part.edges().sort_by_distance(p)[0] for p in [
        (-17.5, 0, 0),
    ]]
    chamfer(chamfer_2_edges, length=CHAMFER_2_SIZE)

    # 倒角3
    chamfer_3_edges = [part.edges().sort_by_distance(p)[0] for p in [
        (24.296725269, -24.850589692, 0),
        (8.255888669, 32.982424142, 0),
        (-32.653214608, -9.599623321, 0),
        (-37.945055609, -20.633918382, 0),
        (36.597025339, -24.52967003, 0),
    ]]
    chamfer(chamfer_3_edges, length=CHAMFER_3_SIZE)



with BuildPart() as body_2:
    # 草图9 → 凸台-拉伸4 (new body)
    with BuildSketch(Plane(origin=(0, 0, 0), x_dir=(1, 0, 0), z_dir=(0, 1, 0))):
        with Locations((-60.5, 22)):
            Rectangle(SKETCH_9_W, SKETCH_9_H)
    extrude(amount=EXTRUDE_4_DEPTH)


with BuildPart() as body_3:
    # 草图9 → Extrude 4 2 (new body)
    with BuildSketch(Plane(origin=(0, 0, 0), x_dir=(1, 0, 0), z_dir=(0, 1, 0))):
        with Locations((60.5, 22)):
            Rectangle(SKETCH_9_W, SKETCH_9_H)
    extrude(amount=EXTRUDE_4_2_DEPTH)


with BuildPart() as part_1:
    add(part.part)

    add(body_2.part)  # 凸台-拉伸6 merges body 2
    # 凸台-拉伸6: up to this cylinder (the profile starts outside it)
    extrude_6_end = Plane(origin=(0, 0, -22), z_dir=(0, 0, 1)) * Cylinder(EXTRUDE_6_END_RADIUS, 395.014, mode=Mode.PRIVATE)
    # 草图12 → 凸台-拉伸6 (add, up to the surface)
    with BuildSketch(Plane(origin=(-55, 0, 0), x_dir=(0, 0, -1), z_dir=(1, 0, 0)), mode=Mode.PRIVATE) as extrude_6_sk1:
        with Locations((22, 4)):
            Rectangle(SKETCH_12_W, SKETCH_12_H)
    extrude_6_tool1 = extrude(extrude_6_sk1.sketch, amount=EXTRUDE_6_REACH, mode=Mode.PRIVATE) - extrude_6_end
    add(extrude_6_tool1.solids().sort_by_distance((-55, 4, -22))[0])


with BuildPart() as cut_extrude_3_tool:
    # 草图14 → 切除-拉伸3 (new body)
    with BuildSketch(Plane.XZ):
        with Locations(Location((-61, -40, 0), (0, 0, 270))):
            Circle(SKETCH_14_R)
        with Locations(Location((-61, -10, 0), (0, 0, 270))):
            Circle(SKETCH_14_R)
        with Locations(Location((61, -10, 0), (0, 0, 270))):
            Circle(SKETCH_14_R)
        with Locations(Location((61, -40, 0), (0, 0, 270))):
            Circle(SKETCH_14_R)
    extrude(amount=-CUT_EXTRUDE_3_DEPTH)


with BuildPart() as part_2:
    add(part_1.part)

    # 切除-拉伸3: cut by cut_extrude_3_tool
    add(cut_extrude_3_tool.part, mode=Mode.SUBTRACT)



with BuildPart() as body_3_1:
    add(body_3.part)

    # 切除-拉伸3: cut by cut_extrude_3_tool
    add(cut_extrude_3_tool.part, mode=Mode.SUBTRACT)


with BuildPart() as part_3:
    add(part_2.part)

    add(body_3_1.part)  # 凸台-拉伸7 merges body 3
    # 凸台-拉伸7: up to this cylinder (the profile starts outside it)
    extrude_7_end = Plane(origin=(0, 0, -22), z_dir=(0, 0, 1)) * Cylinder(EXTRUDE_7_END_RADIUS, 395.014, mode=Mode.PRIVATE)
    # 草图15 → 凸台-拉伸7 (add, up to the surface)
    with BuildSketch(Plane.ZY.offset(-55), mode=Mode.PRIVATE) as extrude_7_sk1:
        with Locations((-22, 4)):
            Rectangle(SKETCH_15_W, SKETCH_15_H)
    extrude_7_tool1 = extrude(extrude_7_sk1.sketch, amount=EXTRUDE_7_REACH, mode=Mode.PRIVATE) - extrude_7_end
    add(extrude_7_tool1.solids().sort_by_distance((55, 4, -22))[0])

    # 草图17 → 切除-拉伸4 (cut)
    with BuildSketch(Plane.XZ.offset(CUT_EXTRUDE_START)):
        Polygon((-57.824573519, -40), (-59.41228676, -37.25), (-62.58771324, -37.25), (-64.175426481, -40), (-62.58771324, -42.75), (-59.41228676, -42.75), align=None)
        Polygon((-59.41228676, -7.25), (-62.58771324, -7.25), (-64.175426481, -10), (-62.58771324, -12.75), (-59.41228676, -12.75), (-57.824573519, -10), align=None)
        Polygon((59.41228676, -42.75), (57.824573519, -40), (59.41228676, -37.25), (62.58771324, -37.25), (64.175426481, -40), (62.58771324, -42.75), align=None)
        Polygon((57.824573519, -10), (59.41228676, -7.25), (62.58771324, -7.25), (64.175426481, -10), (62.58771324, -12.75), (59.41228676, -12.75), align=None)
    extrude(amount=CUT_EXTRUDE_4_DEPTH, mode=Mode.SUBTRACT)


solid = part_3.part
